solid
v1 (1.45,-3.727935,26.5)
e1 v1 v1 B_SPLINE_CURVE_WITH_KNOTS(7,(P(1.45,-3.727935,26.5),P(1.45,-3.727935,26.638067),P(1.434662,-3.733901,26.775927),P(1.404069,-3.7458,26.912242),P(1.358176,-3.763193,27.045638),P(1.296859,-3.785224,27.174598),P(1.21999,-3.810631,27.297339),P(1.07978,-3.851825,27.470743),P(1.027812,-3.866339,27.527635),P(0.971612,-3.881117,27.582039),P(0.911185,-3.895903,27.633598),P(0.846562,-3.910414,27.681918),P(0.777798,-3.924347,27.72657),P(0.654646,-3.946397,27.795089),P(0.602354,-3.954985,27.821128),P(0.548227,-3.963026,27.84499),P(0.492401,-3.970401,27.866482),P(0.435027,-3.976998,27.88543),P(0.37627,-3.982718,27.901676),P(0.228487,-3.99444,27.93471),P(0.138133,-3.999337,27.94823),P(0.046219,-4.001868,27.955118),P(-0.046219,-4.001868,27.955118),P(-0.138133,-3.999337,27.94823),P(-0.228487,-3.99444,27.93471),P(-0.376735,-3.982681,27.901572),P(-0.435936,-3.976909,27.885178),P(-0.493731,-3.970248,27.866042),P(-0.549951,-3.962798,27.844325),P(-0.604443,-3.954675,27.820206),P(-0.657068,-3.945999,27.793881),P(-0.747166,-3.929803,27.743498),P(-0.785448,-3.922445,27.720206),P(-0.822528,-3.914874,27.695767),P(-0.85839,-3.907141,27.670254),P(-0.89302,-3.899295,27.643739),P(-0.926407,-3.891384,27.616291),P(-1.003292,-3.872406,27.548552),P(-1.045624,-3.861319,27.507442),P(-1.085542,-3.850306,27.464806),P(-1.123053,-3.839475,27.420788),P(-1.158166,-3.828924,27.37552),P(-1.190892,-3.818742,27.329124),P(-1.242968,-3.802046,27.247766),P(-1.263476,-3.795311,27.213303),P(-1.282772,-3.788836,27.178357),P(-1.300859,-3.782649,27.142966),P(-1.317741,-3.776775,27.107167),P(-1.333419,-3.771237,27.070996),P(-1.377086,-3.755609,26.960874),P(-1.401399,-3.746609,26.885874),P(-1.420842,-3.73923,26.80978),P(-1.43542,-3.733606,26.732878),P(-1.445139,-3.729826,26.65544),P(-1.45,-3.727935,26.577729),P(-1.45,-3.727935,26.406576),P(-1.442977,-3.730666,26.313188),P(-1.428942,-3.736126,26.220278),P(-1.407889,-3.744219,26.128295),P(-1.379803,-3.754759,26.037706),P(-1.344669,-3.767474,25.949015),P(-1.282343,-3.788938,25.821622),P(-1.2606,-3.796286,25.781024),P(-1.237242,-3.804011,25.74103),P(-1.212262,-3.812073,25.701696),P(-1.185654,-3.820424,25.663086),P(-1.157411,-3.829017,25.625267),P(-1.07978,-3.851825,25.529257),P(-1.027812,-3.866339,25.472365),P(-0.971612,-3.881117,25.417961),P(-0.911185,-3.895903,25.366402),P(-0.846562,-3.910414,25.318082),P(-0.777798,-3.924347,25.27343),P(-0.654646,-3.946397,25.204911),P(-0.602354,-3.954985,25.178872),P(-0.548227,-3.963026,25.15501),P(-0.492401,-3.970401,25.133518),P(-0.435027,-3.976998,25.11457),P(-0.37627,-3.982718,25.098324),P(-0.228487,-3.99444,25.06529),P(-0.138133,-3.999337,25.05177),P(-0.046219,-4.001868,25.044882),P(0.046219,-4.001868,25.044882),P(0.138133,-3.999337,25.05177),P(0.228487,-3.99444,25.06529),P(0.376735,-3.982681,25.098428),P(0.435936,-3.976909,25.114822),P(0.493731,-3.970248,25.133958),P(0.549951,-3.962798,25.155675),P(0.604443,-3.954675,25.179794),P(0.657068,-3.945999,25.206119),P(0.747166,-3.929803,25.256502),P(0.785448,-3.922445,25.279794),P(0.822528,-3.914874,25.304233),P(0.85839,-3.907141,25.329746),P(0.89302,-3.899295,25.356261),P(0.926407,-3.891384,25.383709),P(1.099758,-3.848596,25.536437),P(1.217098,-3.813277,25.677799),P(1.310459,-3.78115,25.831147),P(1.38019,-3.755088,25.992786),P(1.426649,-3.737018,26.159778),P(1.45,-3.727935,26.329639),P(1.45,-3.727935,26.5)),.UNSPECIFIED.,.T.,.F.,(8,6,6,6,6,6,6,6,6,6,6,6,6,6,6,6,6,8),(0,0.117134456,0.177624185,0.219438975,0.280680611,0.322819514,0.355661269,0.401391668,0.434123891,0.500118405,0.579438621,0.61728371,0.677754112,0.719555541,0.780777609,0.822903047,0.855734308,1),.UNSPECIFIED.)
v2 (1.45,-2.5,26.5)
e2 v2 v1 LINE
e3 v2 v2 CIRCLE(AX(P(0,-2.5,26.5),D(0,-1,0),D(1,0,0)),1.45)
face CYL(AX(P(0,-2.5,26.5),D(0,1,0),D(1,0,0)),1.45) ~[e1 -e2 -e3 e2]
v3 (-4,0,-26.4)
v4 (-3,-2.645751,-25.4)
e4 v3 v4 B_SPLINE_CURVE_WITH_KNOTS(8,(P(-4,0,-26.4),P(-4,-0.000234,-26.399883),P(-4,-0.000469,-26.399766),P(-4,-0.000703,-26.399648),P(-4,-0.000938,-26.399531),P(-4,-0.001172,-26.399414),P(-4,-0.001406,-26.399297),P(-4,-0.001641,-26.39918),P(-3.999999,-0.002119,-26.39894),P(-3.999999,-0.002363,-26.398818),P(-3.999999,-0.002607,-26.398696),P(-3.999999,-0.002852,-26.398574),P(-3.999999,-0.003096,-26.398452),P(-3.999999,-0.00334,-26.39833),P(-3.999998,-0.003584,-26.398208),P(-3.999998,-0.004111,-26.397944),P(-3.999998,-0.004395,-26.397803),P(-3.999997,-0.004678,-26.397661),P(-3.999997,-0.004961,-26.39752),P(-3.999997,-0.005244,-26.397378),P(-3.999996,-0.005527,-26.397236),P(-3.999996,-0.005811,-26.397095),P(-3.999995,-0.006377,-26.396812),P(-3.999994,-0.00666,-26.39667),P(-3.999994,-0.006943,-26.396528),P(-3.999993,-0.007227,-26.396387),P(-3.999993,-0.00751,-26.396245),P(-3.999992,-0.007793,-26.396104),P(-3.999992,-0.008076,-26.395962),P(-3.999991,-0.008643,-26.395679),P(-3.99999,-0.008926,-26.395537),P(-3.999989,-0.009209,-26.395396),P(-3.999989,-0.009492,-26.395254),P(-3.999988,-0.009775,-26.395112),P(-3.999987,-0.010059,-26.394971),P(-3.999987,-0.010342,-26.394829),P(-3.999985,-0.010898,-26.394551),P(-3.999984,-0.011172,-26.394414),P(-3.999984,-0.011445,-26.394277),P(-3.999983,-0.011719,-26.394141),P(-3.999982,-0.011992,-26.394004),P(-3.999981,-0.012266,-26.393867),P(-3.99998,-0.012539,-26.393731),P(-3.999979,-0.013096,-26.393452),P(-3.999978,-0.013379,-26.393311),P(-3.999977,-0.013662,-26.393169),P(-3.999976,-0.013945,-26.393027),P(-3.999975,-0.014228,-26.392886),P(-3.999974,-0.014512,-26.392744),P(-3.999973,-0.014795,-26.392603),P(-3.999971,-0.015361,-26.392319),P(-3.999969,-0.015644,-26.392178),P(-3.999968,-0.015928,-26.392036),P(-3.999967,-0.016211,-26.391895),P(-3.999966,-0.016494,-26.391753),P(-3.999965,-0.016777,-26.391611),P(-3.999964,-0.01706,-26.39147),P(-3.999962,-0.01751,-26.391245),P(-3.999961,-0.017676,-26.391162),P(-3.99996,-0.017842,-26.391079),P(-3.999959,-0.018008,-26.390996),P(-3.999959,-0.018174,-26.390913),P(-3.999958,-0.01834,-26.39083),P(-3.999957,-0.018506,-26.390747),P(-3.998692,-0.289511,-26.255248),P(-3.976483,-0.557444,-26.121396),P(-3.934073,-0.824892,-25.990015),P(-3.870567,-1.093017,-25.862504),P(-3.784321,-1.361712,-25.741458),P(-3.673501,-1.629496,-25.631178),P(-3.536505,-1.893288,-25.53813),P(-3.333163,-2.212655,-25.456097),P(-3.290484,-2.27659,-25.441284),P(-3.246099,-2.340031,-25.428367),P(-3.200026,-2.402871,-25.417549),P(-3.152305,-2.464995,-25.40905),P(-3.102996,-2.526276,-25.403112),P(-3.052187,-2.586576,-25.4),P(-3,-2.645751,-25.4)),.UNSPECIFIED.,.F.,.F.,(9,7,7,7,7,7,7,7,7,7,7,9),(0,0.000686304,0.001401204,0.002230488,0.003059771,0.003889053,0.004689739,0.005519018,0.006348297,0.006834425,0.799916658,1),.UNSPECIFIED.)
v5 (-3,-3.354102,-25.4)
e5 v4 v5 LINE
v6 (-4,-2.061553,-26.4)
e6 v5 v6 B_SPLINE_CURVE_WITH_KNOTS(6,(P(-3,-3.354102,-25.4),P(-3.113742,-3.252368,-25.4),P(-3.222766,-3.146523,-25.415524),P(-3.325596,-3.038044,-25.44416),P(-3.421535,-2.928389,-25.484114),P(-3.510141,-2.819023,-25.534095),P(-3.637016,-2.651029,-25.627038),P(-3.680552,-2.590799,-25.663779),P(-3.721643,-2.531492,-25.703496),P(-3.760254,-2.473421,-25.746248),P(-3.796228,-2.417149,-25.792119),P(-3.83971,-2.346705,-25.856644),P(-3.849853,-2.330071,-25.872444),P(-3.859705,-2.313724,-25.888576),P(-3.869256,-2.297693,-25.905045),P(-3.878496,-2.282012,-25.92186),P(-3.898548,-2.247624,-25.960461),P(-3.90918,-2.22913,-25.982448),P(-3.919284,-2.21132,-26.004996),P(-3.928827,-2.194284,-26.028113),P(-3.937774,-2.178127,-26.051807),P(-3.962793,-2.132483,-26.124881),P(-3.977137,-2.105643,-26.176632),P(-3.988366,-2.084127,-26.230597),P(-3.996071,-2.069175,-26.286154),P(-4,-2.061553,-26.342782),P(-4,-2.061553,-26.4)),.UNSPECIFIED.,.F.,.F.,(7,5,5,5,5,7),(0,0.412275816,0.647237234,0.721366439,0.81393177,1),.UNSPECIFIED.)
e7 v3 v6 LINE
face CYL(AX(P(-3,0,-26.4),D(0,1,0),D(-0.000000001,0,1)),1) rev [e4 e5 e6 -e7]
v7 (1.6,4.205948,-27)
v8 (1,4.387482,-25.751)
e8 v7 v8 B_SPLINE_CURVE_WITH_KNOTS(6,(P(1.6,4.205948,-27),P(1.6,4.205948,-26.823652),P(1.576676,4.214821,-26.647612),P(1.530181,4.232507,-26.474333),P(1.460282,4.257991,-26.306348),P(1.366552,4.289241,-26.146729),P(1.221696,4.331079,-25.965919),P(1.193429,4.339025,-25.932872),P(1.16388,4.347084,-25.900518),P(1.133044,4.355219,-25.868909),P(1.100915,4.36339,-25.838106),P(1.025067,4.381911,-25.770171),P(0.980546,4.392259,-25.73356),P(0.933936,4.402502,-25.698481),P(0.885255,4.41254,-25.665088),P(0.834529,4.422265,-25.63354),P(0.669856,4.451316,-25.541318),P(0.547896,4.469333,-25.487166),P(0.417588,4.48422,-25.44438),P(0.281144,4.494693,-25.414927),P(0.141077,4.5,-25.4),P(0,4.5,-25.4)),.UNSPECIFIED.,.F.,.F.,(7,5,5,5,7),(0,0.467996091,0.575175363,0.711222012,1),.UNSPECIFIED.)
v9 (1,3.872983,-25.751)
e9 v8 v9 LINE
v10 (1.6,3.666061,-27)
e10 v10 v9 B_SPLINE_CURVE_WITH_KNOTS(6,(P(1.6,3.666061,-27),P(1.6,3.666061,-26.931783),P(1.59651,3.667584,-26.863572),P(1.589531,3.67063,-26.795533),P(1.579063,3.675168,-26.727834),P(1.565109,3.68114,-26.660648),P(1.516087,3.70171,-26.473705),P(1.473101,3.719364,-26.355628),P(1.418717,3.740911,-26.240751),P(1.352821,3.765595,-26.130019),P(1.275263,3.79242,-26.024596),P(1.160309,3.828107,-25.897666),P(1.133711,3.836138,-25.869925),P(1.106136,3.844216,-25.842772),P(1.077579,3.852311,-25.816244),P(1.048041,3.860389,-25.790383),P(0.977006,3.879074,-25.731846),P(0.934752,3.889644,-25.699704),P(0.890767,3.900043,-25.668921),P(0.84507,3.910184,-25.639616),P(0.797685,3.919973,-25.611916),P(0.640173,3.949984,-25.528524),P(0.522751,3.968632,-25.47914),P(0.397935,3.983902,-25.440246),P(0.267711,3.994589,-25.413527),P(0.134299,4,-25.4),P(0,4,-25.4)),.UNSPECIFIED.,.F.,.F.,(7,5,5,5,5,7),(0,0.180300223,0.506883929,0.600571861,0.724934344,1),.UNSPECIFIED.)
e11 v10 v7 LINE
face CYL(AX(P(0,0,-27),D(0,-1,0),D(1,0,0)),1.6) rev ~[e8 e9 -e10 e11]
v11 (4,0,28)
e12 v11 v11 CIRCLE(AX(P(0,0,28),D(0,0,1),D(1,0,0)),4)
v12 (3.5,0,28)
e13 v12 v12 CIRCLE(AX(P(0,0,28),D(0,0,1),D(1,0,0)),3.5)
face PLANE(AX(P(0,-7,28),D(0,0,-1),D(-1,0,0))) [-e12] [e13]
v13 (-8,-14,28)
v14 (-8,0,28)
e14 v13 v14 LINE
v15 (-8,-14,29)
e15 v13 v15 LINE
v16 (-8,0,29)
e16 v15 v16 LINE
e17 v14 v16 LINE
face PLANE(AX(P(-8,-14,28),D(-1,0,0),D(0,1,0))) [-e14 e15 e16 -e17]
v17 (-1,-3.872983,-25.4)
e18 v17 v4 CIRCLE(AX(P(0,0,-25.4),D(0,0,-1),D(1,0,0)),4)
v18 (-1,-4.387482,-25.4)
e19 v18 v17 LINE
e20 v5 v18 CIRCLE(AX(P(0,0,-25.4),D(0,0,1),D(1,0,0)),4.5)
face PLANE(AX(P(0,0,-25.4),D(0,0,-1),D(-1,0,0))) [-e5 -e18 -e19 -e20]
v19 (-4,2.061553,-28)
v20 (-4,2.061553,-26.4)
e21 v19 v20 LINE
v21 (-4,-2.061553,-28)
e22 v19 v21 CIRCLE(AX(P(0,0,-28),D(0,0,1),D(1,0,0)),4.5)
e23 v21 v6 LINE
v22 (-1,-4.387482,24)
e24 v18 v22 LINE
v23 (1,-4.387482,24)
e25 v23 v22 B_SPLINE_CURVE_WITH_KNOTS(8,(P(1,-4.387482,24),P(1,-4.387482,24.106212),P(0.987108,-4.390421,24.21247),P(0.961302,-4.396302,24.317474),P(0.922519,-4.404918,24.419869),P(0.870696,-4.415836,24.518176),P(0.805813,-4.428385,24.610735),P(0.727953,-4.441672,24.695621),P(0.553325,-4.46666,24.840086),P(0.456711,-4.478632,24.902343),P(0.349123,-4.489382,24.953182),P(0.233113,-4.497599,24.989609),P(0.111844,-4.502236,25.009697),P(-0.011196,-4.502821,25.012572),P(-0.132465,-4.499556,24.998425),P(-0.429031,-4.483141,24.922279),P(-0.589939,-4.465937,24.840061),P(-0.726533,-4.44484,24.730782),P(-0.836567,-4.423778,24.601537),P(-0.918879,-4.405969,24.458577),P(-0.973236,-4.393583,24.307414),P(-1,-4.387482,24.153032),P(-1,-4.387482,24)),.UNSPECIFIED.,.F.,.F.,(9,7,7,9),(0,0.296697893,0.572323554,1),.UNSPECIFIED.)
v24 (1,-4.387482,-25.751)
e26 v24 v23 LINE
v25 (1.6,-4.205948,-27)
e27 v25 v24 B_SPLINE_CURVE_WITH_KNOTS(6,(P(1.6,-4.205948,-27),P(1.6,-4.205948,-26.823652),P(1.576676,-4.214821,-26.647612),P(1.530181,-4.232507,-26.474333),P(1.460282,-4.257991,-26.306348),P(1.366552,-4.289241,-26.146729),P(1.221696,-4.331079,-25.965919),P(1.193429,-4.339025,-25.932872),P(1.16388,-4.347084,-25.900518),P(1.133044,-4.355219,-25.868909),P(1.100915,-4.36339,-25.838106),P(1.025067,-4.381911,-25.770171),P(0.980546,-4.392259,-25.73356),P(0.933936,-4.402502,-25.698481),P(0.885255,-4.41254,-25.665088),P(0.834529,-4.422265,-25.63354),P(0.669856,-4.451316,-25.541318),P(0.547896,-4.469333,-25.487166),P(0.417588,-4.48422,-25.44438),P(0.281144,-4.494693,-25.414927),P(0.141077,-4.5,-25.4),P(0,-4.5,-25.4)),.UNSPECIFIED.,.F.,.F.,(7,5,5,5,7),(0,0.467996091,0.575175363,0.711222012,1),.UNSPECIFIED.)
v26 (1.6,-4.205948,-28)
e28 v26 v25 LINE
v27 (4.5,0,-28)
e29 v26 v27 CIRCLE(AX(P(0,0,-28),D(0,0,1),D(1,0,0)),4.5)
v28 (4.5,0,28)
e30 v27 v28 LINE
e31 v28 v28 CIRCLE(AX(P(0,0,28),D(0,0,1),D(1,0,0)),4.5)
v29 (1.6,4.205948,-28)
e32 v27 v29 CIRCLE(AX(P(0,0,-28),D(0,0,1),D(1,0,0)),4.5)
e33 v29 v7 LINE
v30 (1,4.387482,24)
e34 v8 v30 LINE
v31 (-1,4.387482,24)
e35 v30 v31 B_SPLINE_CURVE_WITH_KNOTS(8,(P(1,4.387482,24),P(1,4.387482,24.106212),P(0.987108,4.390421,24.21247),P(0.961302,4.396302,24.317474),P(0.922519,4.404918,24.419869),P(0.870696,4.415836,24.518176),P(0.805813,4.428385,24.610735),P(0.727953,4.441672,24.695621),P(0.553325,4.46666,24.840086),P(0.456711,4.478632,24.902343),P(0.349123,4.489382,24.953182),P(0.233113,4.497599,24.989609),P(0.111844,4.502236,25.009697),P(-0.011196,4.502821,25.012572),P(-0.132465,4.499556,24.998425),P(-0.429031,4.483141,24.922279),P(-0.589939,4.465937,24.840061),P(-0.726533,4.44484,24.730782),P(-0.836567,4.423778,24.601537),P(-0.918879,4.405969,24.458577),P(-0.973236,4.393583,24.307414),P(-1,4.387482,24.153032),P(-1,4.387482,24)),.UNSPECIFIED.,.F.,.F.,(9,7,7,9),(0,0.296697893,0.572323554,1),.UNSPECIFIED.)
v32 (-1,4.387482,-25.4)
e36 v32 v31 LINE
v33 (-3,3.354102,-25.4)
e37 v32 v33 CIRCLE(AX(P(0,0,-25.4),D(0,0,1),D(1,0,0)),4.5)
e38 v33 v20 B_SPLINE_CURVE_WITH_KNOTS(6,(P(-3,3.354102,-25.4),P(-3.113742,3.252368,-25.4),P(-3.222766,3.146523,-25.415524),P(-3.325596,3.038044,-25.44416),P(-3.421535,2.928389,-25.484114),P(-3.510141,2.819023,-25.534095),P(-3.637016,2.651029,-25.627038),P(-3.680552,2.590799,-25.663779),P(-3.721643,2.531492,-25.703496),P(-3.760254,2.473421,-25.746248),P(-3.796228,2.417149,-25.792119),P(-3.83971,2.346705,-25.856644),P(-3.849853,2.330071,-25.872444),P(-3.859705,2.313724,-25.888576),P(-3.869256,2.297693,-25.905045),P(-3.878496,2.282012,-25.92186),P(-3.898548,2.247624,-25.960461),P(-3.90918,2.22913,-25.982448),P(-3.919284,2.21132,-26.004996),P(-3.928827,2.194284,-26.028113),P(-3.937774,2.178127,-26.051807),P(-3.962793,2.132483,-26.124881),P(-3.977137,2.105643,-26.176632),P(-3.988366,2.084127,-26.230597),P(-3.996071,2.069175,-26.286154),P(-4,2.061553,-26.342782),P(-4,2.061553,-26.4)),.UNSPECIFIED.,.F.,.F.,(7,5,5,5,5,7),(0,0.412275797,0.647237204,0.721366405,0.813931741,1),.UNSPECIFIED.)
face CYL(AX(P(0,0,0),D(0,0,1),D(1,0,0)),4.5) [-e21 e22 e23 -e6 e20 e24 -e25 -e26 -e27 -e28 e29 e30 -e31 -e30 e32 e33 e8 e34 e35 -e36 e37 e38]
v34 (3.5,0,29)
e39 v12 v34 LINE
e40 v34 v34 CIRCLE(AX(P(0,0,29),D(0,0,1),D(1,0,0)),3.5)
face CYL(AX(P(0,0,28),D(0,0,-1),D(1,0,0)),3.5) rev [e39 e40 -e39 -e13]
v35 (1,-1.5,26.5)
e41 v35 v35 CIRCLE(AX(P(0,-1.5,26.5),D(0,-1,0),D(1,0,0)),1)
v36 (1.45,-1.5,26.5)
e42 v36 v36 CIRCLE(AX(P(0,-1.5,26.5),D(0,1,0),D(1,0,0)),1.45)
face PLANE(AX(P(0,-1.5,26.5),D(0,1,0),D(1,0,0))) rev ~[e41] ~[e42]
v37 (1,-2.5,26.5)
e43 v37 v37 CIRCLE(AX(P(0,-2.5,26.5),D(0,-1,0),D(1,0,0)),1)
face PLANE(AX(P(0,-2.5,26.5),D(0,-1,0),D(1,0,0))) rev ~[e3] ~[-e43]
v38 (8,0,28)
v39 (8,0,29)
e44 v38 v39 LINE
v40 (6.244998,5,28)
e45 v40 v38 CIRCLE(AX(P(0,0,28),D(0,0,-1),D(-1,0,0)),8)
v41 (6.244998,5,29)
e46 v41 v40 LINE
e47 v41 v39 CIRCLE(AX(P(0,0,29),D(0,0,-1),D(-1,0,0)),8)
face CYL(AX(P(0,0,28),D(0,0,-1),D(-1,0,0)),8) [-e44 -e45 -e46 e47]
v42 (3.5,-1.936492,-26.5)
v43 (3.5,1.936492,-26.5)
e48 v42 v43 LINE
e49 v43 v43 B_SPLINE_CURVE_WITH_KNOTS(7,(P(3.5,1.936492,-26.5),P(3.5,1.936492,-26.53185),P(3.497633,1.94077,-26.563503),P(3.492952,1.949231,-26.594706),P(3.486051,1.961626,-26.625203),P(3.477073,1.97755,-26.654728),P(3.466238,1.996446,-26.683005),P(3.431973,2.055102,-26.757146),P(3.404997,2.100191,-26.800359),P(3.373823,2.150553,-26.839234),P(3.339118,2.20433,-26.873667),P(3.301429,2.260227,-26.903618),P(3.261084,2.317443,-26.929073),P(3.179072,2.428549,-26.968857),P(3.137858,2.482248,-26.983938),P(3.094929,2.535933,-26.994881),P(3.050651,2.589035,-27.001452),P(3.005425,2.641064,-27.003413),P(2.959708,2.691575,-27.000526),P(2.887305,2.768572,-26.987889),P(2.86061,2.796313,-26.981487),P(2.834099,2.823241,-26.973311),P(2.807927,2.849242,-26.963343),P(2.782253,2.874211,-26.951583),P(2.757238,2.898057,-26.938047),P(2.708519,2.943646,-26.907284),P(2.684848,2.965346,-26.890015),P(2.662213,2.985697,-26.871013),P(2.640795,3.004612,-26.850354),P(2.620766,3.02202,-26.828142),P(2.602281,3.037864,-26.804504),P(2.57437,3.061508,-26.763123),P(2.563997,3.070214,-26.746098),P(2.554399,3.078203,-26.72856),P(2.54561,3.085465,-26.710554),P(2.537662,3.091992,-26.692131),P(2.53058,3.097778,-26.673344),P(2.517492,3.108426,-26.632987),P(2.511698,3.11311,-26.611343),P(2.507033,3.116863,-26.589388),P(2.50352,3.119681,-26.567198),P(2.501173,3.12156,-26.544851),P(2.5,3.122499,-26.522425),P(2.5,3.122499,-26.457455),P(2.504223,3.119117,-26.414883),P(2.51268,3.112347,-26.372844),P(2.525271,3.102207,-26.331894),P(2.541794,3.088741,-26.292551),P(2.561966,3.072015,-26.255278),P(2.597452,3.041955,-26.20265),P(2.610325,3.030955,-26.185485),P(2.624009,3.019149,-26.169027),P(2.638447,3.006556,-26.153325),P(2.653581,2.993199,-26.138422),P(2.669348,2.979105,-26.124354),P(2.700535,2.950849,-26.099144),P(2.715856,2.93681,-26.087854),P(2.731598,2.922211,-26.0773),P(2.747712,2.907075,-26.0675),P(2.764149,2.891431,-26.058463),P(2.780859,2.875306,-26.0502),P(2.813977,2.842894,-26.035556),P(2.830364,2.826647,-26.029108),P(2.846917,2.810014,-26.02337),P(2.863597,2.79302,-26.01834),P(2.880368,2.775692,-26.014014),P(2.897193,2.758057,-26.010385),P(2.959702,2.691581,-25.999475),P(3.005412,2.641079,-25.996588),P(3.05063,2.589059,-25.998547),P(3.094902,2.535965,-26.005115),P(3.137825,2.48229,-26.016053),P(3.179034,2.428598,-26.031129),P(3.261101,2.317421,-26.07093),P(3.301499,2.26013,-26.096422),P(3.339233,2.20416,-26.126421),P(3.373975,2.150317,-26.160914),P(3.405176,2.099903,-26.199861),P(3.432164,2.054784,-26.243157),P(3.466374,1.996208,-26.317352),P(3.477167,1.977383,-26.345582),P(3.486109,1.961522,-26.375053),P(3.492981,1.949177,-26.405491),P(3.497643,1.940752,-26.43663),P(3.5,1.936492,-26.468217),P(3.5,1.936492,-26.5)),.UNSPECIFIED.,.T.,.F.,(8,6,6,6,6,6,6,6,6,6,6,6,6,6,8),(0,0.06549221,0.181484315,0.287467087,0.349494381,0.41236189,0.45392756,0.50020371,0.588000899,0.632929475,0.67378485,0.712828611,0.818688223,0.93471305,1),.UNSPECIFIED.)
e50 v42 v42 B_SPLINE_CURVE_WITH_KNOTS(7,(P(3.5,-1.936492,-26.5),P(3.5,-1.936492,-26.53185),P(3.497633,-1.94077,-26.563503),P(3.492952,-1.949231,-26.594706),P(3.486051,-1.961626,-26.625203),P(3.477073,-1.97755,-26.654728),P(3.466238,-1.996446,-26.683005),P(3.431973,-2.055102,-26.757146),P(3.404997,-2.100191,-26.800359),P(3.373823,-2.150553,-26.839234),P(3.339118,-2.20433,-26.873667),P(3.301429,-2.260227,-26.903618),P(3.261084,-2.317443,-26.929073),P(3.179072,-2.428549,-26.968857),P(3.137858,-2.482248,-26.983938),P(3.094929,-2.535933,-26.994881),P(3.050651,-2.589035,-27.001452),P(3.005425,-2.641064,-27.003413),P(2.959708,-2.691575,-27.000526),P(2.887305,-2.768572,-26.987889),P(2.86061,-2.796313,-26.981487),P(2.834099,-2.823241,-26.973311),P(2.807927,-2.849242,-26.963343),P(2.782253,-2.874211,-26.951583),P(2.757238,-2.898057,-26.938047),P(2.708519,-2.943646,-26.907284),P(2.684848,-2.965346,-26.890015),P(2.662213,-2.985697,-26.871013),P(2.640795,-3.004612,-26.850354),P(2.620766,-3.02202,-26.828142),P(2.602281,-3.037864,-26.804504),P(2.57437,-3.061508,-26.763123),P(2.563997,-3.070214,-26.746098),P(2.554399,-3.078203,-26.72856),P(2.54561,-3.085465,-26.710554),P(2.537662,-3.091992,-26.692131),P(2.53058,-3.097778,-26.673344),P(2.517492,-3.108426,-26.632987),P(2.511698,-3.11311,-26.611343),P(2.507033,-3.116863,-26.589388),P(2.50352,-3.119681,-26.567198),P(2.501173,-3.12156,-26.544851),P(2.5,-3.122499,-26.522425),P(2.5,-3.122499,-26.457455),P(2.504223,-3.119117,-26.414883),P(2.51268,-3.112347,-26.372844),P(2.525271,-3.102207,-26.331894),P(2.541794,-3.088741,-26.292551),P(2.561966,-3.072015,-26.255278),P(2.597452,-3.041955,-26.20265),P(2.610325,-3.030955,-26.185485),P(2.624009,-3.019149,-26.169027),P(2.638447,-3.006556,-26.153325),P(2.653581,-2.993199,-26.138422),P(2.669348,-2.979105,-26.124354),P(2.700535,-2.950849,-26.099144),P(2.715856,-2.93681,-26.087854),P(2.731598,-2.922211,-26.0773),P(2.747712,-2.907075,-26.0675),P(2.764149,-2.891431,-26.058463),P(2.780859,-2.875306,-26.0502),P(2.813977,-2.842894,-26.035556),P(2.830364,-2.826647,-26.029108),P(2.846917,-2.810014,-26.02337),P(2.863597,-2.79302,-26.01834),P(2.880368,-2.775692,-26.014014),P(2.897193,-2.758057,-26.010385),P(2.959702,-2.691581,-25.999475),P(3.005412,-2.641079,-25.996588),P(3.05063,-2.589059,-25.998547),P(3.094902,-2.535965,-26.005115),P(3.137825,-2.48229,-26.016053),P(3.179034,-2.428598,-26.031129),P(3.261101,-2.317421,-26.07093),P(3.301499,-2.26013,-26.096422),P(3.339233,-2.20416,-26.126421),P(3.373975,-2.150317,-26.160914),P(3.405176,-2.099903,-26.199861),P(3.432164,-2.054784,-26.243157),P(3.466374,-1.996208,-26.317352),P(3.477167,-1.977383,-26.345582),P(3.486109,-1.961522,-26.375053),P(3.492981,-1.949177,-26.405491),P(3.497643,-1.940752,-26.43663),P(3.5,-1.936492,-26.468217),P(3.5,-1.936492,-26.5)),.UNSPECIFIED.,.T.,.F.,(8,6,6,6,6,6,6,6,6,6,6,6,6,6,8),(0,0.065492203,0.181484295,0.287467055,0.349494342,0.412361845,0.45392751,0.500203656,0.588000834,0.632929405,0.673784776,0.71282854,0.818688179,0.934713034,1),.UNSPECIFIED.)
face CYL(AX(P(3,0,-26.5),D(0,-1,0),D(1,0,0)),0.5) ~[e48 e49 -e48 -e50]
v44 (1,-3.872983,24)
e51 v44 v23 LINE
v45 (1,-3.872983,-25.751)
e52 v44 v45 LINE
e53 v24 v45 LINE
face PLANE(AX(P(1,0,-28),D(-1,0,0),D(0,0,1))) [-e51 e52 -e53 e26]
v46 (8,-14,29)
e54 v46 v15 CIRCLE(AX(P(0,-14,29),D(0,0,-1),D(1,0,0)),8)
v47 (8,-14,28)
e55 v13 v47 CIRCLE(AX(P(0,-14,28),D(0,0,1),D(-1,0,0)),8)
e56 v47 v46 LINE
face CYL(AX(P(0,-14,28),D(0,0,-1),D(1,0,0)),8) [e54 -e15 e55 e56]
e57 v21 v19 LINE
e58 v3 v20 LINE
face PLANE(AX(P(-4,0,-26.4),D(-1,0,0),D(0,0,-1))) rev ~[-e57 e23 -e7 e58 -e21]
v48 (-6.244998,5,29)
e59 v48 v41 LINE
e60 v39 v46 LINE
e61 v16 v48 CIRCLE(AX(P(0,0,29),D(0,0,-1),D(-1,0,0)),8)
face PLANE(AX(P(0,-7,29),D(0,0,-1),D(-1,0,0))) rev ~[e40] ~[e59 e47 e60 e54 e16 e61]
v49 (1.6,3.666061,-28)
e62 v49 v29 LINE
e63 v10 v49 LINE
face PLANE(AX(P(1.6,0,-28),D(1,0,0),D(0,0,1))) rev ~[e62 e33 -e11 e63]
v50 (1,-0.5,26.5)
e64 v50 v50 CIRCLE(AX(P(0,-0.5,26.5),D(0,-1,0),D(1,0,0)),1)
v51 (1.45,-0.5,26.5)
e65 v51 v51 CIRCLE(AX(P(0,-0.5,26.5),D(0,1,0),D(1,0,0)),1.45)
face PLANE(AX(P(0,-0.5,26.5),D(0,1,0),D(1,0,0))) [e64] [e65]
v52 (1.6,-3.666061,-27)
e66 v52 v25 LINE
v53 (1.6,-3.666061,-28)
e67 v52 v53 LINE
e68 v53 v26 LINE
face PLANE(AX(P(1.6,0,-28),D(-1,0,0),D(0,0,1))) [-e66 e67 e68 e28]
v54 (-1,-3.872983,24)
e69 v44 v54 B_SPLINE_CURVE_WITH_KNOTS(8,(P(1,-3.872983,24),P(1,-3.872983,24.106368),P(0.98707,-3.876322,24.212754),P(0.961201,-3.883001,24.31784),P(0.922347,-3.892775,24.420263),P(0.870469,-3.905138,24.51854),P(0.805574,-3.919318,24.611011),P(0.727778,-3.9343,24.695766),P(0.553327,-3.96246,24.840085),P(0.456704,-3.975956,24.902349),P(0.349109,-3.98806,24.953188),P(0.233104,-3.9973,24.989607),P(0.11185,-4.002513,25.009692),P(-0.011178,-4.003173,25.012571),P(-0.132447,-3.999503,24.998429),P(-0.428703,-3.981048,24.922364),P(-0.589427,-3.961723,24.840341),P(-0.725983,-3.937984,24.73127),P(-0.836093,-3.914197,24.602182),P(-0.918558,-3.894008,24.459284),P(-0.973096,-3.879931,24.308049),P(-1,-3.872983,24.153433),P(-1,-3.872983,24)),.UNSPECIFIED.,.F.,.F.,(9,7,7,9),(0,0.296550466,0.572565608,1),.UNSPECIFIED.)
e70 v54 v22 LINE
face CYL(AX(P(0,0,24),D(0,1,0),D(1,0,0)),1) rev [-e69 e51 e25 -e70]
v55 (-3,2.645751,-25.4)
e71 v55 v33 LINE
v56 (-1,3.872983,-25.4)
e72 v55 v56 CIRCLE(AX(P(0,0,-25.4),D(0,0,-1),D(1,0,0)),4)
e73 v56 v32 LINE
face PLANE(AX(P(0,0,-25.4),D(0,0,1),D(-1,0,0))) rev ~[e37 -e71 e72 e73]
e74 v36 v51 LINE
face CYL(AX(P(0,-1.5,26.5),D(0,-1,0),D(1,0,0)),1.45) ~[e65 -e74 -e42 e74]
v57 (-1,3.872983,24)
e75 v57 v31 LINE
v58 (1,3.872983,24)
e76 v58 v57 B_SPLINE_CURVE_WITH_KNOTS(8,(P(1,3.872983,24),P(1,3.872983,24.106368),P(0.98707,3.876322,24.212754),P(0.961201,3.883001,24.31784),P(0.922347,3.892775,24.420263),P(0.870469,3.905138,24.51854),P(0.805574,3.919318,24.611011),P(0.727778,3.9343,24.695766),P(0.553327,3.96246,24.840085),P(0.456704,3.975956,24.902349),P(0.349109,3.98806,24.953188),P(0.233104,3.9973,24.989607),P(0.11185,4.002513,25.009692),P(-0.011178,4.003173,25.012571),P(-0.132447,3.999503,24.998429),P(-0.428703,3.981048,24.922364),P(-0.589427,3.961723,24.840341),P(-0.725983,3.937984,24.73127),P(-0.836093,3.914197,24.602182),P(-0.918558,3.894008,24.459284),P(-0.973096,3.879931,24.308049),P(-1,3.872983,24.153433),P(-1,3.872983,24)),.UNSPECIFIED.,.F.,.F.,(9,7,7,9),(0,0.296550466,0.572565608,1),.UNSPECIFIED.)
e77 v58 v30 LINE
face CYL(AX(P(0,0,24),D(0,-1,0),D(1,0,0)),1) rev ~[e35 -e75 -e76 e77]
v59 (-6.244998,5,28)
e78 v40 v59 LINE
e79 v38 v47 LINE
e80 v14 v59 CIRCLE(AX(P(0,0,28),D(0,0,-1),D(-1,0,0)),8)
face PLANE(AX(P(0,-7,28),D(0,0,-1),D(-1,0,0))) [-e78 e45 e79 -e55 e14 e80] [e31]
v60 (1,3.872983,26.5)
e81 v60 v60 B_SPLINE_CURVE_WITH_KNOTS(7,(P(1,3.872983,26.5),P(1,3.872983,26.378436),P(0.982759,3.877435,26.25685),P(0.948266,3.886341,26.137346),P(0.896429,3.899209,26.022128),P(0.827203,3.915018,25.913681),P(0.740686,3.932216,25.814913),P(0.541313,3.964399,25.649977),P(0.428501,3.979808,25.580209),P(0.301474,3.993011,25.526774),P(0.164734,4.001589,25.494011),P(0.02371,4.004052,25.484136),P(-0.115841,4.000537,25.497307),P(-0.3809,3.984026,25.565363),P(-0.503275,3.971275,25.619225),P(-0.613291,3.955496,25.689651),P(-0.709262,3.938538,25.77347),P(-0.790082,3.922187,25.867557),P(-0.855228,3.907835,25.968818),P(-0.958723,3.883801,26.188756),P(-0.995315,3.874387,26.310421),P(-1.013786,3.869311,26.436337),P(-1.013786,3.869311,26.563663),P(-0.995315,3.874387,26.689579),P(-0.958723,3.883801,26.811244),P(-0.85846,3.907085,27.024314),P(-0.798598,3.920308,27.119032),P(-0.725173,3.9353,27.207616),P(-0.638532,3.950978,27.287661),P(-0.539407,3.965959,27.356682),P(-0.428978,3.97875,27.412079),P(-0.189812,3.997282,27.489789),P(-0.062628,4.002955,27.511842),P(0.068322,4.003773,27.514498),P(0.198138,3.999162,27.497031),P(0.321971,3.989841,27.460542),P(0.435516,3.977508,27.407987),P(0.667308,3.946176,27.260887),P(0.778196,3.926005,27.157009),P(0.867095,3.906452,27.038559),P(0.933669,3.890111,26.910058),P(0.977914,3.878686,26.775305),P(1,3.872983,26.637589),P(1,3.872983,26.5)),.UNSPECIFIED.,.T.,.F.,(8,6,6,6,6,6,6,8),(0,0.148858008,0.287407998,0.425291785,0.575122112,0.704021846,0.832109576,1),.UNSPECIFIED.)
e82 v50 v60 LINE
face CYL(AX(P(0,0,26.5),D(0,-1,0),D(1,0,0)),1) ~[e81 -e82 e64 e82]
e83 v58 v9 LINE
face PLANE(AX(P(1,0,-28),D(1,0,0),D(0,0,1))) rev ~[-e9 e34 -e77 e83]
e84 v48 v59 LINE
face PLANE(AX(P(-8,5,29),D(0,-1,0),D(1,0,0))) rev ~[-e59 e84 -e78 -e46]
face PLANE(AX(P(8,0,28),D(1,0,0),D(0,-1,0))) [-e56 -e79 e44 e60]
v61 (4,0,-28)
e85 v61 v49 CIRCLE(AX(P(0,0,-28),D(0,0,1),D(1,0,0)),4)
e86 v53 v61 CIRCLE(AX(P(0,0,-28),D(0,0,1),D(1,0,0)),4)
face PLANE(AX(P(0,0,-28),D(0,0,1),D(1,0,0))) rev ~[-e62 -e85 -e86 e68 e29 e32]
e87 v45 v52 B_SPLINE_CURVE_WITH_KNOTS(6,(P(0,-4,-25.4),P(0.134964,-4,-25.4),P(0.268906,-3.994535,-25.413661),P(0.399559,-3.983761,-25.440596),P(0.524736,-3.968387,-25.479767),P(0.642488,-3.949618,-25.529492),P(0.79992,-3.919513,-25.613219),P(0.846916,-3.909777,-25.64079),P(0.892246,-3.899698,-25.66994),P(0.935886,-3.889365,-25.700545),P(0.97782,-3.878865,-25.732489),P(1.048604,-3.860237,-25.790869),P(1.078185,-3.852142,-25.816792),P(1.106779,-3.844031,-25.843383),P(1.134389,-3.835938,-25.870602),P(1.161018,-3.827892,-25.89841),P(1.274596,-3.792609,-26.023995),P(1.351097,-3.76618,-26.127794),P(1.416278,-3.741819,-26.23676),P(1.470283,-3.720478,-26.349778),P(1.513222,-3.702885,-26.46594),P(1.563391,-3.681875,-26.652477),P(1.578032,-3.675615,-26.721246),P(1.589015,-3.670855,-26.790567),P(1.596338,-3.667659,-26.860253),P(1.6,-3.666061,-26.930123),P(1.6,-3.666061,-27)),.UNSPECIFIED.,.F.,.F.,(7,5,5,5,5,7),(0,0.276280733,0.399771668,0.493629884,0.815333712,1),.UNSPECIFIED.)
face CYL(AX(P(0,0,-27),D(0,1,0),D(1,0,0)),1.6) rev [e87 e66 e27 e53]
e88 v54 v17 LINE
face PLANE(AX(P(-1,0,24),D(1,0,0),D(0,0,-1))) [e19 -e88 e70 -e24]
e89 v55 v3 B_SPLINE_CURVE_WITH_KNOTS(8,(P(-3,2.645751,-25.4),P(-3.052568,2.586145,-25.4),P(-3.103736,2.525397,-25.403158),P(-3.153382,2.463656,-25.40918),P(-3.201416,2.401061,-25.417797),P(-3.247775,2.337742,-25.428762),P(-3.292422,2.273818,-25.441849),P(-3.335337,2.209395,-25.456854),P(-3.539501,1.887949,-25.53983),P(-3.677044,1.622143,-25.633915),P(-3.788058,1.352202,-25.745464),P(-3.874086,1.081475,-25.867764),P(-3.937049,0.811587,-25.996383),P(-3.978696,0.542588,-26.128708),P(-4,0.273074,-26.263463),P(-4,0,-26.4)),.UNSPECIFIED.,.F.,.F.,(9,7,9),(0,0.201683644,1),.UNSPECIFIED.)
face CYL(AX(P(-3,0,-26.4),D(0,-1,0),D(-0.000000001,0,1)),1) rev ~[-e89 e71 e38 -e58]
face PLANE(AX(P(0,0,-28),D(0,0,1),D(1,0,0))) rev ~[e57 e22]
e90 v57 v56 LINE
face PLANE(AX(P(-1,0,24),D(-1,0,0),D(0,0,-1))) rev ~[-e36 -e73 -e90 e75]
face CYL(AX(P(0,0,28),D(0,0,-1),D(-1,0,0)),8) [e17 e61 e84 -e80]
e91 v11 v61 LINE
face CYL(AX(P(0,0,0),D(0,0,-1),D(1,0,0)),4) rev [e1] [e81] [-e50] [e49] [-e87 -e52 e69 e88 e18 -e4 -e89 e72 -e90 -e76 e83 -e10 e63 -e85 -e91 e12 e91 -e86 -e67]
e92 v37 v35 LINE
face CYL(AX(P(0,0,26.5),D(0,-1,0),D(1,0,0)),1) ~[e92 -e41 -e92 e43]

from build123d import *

# Parameters (mm, degrees)
ESQUISSE1_R                    = 4.5
ESQUISSE1_R_2                  = 4
BOSS_EXTRU_1_DEPTH             = 28
BOSS_EXTRU_2_REACH             = 6.5
ESQUISSE2_R                    = 1
ESQUISSE2_R_2                  = 0.5
BOSS_EXTRU_2_DIRECTION_2_REACH = 6.5
ENL_V_MAT_EXTRU_1_DEPTH        = 5.5
ENL_V_MAT_EXTRU_1_DEPTH_BACK   = 5.5
ESQUISSE4_R                    = 3.5
BOSS_EXTRU_3_DEPTH             = 1
ESQUISSE6_OUTSIDE_W            = 31.274
ESQUISSE6_OUTSIDE_H            = 45.274
ESQUISSE6_OUTSIDE_W_2          = 16
ESQUISSE6_OUTSIDE_H_2          = 27
ENL_V_MAT_EXTRU_2_DEPTH        = 58.0000001
BOSS_EXTRU_6_START             = -1.5
ESQUISSE7_R                    = 1.45
BOSS_EXTRU_6_DEPTH             = 1
BOSS_EXTRU_7_REACH             = 23.5
BOSS_EXTRU_7_START             = 1
ESQUISSE8_R                    = 1.45
ENL_V_MAT_EXTRU_3_DEPTH        = 6
ENL_V_MAT_EXTRU_3_DEPTH_BACK   = 23


with BuildPart() as part:
    # Esquisse1 → Boss.-Extru.1 (new body, symmetric)
    with BuildSketch(Plane.XY):
        Circle(ESQUISSE1_R)
        Circle(ESQUISSE1_R_2, mode=Mode.SUBTRACT)
    extrude(amount=BOSS_EXTRU_1_DEPTH, both=True)

    # Esquisse2 → Boss.-Extru.2 (add, up to next)
    with BuildSketch(Plane(origin=(0, 0, 0), x_dir=(1, 0, 0), z_dir=(0, 1, 0)), mode=Mode.PRIVATE) as boss_extru_2_sk1:
        with Locations((0, -26.5)):
            Circle(ESQUISSE2_R)
    boss_extru_2_tool1 = extrude(boss_extru_2_sk1.sketch, amount=BOSS_EXTRU_2_REACH, mode=Mode.PRIVATE) - part.part
    add(boss_extru_2_tool1.solids().sort_by_distance((0, 0, 26.5))[0])
    # Esquisse2 → Boss.-Extru.2 (add, up to next)
    with BuildSketch(Plane(origin=(0, 0, 0), x_dir=(1, 0, 0), z_dir=(0, 1, 0)), mode=Mode.PRIVATE) as boss_extru_2_sk2:
        with Locations((3, 26.5)):
            Circle(ESQUISSE2_R_2)
    boss_extru_2_tool2 = extrude(boss_extru_2_sk2.sketch, amount=BOSS_EXTRU_2_REACH, mode=Mode.PRIVATE) - part.part
    add(boss_extru_2_tool2.solids().sort_by_distance((3, 0, -26.5))[0])

    # Esquisse2 → Boss.-Extru.2 direction 2 (add, up to next)
    with BuildSketch(Plane(origin=(0, 0, 0), x_dir=(1, 0, 0), z_dir=(0, 1, 0)), mode=Mode.PRIVATE) as boss_extru_2_direction_2_sk1:
        with Locations((0, -26.5)):
            Circle(ESQUISSE2_R)
    boss_extru_2_direction_2_tool1 = extrude(boss_extru_2_direction_2_sk1.sketch, amount=-BOSS_EXTRU_2_DIRECTION_2_REACH, mode=Mode.PRIVATE) - part.part
    add(boss_extru_2_direction_2_tool1.solids().sort_by_distance((0, 0, 26.5))[0])
    # Esquisse2 → Boss.-Extru.2 direction 2 (add, up to next)
    with BuildSketch(Plane(origin=(0, 0, 0), x_dir=(1, 0, 0), z_dir=(0, 1, 0)), mode=Mode.PRIVATE) as boss_extru_2_direction_2_sk2:
        with Locations((3, 26.5)):
            Circle(ESQUISSE2_R_2)
    boss_extru_2_direction_2_tool2 = extrude(boss_extru_2_direction_2_sk2.sketch, amount=-BOSS_EXTRU_2_DIRECTION_2_REACH, mode=Mode.PRIVATE) - part.part
    add(boss_extru_2_direction_2_tool2.solids().sort_by_distance((3, 0, -26.5))[0])

    # Esquisse3 → Enlèv. mat.-Extru.1 (cut, two sides)
    with BuildSketch(Plane(origin=(0, 0, 0), x_dir=(1, 0, 0), z_dir=(0, 1, 0))) as enl_v_mat_extru_1_sk:
        with BuildLine():
            Line((1, 28), (1, -24))
            ThreePointArc((1, -24), (0, -25), (-1, -24))
            Line((-1, -24), (-1, 28))
            ThreePointArc((-1, 28), (0, 29), (1, 28))
        make_face()
    extrude(amount=ENL_V_MAT_EXTRU_1_DEPTH, mode=Mode.SUBTRACT)
    extrude(enl_v_mat_extru_1_sk.sketch, amount=-ENL_V_MAT_EXTRU_1_DEPTH_BACK, mode=Mode.SUBTRACT)

    # Esquisse4 → Boss.-Extru.3 (add)
    with BuildSketch(Plane.XY.offset(28)):
        with BuildLine():
            Line((8, 0), (8, -14))
            ThreePointArc((8, -14), (0, -22), (-8, -14))
            Line((-8, -14), (-8, 0))
            ThreePointArc((-8, 0), (0, 8), (8, 0))
        make_face()
        Circle(ESQUISSE4_R, mode=Mode.SUBTRACT)
    extrude(amount=BOSS_EXTRU_3_DEPTH)

    # Esquisse6 outside → Enlèv. mat.-Extru.2 (cut, through all)
    with BuildSketch(Plane.XY.offset(29)):
        with Locations((0, -7)):
            Rectangle(ESQUISSE6_OUTSIDE_W, ESQUISSE6_OUTSIDE_H)
        with Locations((0, -8.5)):
            Rectangle(ESQUISSE6_OUTSIDE_W_2, ESQUISSE6_OUTSIDE_H_2, mode=Mode.SUBTRACT)
    extrude(amount=-ENL_V_MAT_EXTRU_2_DEPTH, mode=Mode.SUBTRACT)

    # Esquisse7 → Boss.-Extru.6 (add)
    with BuildSketch(Plane(origin=(0, 0, 0), x_dir=(1, 0, 0), z_dir=(0, 1, 0)).offset(BOSS_EXTRU_6_START)):
        with Locations((0, -26.5)):
            Circle(ESQUISSE7_R)
    extrude(amount=BOSS_EXTRU_6_DEPTH)

    # Esquisse8 → Boss.-Extru.7 (add, up to next)
    with BuildSketch(Plane.XZ.offset(1.5).offset(BOSS_EXTRU_7_START), mode=Mode.PRIVATE) as boss_extru_7_sk1:
        with Locations((0, 26.5)):
            Circle(ESQUISSE8_R)
    boss_extru_7_tool1 = extrude(boss_extru_7_sk1.sketch, amount=BOSS_EXTRU_7_REACH, mode=Mode.PRIVATE) - part.part
    add(boss_extru_7_tool1.solids().sort_by_distance((0, -2.5, 26.5))[0])

    # Esquisse9 → Enlèv. mat.-Extru.3 (cut, two sides)
    with BuildSketch(Plane(origin=(0, 0, 0), x_dir=(1, 0, 0), z_dir=(0, 1, 0))) as enl_v_mat_extru_3_sk:
        with BuildLine():
            Line((0, 25.4), (-3, 25.4))
            ThreePointArc((-3, 25.4), (-3.707106781, 25.692893219), (-4, 26.4))
            Line((-4, 26.4), (-4, 28))
            Line((-4, 28), (1.6, 28))
            Line((1.6, 28), (1.6, 27))
            ThreePointArc((1.6, 27), (1.13137085, 25.86862915), (0, 25.4))
        make_face()
    extrude(amount=ENL_V_MAT_EXTRU_3_DEPTH, mode=Mode.SUBTRACT)
    extrude(enl_v_mat_extru_3_sk.sketch, amount=-ENL_V_MAT_EXTRU_3_DEPTH_BACK, mode=Mode.SUBTRACT)


solid = part.part
